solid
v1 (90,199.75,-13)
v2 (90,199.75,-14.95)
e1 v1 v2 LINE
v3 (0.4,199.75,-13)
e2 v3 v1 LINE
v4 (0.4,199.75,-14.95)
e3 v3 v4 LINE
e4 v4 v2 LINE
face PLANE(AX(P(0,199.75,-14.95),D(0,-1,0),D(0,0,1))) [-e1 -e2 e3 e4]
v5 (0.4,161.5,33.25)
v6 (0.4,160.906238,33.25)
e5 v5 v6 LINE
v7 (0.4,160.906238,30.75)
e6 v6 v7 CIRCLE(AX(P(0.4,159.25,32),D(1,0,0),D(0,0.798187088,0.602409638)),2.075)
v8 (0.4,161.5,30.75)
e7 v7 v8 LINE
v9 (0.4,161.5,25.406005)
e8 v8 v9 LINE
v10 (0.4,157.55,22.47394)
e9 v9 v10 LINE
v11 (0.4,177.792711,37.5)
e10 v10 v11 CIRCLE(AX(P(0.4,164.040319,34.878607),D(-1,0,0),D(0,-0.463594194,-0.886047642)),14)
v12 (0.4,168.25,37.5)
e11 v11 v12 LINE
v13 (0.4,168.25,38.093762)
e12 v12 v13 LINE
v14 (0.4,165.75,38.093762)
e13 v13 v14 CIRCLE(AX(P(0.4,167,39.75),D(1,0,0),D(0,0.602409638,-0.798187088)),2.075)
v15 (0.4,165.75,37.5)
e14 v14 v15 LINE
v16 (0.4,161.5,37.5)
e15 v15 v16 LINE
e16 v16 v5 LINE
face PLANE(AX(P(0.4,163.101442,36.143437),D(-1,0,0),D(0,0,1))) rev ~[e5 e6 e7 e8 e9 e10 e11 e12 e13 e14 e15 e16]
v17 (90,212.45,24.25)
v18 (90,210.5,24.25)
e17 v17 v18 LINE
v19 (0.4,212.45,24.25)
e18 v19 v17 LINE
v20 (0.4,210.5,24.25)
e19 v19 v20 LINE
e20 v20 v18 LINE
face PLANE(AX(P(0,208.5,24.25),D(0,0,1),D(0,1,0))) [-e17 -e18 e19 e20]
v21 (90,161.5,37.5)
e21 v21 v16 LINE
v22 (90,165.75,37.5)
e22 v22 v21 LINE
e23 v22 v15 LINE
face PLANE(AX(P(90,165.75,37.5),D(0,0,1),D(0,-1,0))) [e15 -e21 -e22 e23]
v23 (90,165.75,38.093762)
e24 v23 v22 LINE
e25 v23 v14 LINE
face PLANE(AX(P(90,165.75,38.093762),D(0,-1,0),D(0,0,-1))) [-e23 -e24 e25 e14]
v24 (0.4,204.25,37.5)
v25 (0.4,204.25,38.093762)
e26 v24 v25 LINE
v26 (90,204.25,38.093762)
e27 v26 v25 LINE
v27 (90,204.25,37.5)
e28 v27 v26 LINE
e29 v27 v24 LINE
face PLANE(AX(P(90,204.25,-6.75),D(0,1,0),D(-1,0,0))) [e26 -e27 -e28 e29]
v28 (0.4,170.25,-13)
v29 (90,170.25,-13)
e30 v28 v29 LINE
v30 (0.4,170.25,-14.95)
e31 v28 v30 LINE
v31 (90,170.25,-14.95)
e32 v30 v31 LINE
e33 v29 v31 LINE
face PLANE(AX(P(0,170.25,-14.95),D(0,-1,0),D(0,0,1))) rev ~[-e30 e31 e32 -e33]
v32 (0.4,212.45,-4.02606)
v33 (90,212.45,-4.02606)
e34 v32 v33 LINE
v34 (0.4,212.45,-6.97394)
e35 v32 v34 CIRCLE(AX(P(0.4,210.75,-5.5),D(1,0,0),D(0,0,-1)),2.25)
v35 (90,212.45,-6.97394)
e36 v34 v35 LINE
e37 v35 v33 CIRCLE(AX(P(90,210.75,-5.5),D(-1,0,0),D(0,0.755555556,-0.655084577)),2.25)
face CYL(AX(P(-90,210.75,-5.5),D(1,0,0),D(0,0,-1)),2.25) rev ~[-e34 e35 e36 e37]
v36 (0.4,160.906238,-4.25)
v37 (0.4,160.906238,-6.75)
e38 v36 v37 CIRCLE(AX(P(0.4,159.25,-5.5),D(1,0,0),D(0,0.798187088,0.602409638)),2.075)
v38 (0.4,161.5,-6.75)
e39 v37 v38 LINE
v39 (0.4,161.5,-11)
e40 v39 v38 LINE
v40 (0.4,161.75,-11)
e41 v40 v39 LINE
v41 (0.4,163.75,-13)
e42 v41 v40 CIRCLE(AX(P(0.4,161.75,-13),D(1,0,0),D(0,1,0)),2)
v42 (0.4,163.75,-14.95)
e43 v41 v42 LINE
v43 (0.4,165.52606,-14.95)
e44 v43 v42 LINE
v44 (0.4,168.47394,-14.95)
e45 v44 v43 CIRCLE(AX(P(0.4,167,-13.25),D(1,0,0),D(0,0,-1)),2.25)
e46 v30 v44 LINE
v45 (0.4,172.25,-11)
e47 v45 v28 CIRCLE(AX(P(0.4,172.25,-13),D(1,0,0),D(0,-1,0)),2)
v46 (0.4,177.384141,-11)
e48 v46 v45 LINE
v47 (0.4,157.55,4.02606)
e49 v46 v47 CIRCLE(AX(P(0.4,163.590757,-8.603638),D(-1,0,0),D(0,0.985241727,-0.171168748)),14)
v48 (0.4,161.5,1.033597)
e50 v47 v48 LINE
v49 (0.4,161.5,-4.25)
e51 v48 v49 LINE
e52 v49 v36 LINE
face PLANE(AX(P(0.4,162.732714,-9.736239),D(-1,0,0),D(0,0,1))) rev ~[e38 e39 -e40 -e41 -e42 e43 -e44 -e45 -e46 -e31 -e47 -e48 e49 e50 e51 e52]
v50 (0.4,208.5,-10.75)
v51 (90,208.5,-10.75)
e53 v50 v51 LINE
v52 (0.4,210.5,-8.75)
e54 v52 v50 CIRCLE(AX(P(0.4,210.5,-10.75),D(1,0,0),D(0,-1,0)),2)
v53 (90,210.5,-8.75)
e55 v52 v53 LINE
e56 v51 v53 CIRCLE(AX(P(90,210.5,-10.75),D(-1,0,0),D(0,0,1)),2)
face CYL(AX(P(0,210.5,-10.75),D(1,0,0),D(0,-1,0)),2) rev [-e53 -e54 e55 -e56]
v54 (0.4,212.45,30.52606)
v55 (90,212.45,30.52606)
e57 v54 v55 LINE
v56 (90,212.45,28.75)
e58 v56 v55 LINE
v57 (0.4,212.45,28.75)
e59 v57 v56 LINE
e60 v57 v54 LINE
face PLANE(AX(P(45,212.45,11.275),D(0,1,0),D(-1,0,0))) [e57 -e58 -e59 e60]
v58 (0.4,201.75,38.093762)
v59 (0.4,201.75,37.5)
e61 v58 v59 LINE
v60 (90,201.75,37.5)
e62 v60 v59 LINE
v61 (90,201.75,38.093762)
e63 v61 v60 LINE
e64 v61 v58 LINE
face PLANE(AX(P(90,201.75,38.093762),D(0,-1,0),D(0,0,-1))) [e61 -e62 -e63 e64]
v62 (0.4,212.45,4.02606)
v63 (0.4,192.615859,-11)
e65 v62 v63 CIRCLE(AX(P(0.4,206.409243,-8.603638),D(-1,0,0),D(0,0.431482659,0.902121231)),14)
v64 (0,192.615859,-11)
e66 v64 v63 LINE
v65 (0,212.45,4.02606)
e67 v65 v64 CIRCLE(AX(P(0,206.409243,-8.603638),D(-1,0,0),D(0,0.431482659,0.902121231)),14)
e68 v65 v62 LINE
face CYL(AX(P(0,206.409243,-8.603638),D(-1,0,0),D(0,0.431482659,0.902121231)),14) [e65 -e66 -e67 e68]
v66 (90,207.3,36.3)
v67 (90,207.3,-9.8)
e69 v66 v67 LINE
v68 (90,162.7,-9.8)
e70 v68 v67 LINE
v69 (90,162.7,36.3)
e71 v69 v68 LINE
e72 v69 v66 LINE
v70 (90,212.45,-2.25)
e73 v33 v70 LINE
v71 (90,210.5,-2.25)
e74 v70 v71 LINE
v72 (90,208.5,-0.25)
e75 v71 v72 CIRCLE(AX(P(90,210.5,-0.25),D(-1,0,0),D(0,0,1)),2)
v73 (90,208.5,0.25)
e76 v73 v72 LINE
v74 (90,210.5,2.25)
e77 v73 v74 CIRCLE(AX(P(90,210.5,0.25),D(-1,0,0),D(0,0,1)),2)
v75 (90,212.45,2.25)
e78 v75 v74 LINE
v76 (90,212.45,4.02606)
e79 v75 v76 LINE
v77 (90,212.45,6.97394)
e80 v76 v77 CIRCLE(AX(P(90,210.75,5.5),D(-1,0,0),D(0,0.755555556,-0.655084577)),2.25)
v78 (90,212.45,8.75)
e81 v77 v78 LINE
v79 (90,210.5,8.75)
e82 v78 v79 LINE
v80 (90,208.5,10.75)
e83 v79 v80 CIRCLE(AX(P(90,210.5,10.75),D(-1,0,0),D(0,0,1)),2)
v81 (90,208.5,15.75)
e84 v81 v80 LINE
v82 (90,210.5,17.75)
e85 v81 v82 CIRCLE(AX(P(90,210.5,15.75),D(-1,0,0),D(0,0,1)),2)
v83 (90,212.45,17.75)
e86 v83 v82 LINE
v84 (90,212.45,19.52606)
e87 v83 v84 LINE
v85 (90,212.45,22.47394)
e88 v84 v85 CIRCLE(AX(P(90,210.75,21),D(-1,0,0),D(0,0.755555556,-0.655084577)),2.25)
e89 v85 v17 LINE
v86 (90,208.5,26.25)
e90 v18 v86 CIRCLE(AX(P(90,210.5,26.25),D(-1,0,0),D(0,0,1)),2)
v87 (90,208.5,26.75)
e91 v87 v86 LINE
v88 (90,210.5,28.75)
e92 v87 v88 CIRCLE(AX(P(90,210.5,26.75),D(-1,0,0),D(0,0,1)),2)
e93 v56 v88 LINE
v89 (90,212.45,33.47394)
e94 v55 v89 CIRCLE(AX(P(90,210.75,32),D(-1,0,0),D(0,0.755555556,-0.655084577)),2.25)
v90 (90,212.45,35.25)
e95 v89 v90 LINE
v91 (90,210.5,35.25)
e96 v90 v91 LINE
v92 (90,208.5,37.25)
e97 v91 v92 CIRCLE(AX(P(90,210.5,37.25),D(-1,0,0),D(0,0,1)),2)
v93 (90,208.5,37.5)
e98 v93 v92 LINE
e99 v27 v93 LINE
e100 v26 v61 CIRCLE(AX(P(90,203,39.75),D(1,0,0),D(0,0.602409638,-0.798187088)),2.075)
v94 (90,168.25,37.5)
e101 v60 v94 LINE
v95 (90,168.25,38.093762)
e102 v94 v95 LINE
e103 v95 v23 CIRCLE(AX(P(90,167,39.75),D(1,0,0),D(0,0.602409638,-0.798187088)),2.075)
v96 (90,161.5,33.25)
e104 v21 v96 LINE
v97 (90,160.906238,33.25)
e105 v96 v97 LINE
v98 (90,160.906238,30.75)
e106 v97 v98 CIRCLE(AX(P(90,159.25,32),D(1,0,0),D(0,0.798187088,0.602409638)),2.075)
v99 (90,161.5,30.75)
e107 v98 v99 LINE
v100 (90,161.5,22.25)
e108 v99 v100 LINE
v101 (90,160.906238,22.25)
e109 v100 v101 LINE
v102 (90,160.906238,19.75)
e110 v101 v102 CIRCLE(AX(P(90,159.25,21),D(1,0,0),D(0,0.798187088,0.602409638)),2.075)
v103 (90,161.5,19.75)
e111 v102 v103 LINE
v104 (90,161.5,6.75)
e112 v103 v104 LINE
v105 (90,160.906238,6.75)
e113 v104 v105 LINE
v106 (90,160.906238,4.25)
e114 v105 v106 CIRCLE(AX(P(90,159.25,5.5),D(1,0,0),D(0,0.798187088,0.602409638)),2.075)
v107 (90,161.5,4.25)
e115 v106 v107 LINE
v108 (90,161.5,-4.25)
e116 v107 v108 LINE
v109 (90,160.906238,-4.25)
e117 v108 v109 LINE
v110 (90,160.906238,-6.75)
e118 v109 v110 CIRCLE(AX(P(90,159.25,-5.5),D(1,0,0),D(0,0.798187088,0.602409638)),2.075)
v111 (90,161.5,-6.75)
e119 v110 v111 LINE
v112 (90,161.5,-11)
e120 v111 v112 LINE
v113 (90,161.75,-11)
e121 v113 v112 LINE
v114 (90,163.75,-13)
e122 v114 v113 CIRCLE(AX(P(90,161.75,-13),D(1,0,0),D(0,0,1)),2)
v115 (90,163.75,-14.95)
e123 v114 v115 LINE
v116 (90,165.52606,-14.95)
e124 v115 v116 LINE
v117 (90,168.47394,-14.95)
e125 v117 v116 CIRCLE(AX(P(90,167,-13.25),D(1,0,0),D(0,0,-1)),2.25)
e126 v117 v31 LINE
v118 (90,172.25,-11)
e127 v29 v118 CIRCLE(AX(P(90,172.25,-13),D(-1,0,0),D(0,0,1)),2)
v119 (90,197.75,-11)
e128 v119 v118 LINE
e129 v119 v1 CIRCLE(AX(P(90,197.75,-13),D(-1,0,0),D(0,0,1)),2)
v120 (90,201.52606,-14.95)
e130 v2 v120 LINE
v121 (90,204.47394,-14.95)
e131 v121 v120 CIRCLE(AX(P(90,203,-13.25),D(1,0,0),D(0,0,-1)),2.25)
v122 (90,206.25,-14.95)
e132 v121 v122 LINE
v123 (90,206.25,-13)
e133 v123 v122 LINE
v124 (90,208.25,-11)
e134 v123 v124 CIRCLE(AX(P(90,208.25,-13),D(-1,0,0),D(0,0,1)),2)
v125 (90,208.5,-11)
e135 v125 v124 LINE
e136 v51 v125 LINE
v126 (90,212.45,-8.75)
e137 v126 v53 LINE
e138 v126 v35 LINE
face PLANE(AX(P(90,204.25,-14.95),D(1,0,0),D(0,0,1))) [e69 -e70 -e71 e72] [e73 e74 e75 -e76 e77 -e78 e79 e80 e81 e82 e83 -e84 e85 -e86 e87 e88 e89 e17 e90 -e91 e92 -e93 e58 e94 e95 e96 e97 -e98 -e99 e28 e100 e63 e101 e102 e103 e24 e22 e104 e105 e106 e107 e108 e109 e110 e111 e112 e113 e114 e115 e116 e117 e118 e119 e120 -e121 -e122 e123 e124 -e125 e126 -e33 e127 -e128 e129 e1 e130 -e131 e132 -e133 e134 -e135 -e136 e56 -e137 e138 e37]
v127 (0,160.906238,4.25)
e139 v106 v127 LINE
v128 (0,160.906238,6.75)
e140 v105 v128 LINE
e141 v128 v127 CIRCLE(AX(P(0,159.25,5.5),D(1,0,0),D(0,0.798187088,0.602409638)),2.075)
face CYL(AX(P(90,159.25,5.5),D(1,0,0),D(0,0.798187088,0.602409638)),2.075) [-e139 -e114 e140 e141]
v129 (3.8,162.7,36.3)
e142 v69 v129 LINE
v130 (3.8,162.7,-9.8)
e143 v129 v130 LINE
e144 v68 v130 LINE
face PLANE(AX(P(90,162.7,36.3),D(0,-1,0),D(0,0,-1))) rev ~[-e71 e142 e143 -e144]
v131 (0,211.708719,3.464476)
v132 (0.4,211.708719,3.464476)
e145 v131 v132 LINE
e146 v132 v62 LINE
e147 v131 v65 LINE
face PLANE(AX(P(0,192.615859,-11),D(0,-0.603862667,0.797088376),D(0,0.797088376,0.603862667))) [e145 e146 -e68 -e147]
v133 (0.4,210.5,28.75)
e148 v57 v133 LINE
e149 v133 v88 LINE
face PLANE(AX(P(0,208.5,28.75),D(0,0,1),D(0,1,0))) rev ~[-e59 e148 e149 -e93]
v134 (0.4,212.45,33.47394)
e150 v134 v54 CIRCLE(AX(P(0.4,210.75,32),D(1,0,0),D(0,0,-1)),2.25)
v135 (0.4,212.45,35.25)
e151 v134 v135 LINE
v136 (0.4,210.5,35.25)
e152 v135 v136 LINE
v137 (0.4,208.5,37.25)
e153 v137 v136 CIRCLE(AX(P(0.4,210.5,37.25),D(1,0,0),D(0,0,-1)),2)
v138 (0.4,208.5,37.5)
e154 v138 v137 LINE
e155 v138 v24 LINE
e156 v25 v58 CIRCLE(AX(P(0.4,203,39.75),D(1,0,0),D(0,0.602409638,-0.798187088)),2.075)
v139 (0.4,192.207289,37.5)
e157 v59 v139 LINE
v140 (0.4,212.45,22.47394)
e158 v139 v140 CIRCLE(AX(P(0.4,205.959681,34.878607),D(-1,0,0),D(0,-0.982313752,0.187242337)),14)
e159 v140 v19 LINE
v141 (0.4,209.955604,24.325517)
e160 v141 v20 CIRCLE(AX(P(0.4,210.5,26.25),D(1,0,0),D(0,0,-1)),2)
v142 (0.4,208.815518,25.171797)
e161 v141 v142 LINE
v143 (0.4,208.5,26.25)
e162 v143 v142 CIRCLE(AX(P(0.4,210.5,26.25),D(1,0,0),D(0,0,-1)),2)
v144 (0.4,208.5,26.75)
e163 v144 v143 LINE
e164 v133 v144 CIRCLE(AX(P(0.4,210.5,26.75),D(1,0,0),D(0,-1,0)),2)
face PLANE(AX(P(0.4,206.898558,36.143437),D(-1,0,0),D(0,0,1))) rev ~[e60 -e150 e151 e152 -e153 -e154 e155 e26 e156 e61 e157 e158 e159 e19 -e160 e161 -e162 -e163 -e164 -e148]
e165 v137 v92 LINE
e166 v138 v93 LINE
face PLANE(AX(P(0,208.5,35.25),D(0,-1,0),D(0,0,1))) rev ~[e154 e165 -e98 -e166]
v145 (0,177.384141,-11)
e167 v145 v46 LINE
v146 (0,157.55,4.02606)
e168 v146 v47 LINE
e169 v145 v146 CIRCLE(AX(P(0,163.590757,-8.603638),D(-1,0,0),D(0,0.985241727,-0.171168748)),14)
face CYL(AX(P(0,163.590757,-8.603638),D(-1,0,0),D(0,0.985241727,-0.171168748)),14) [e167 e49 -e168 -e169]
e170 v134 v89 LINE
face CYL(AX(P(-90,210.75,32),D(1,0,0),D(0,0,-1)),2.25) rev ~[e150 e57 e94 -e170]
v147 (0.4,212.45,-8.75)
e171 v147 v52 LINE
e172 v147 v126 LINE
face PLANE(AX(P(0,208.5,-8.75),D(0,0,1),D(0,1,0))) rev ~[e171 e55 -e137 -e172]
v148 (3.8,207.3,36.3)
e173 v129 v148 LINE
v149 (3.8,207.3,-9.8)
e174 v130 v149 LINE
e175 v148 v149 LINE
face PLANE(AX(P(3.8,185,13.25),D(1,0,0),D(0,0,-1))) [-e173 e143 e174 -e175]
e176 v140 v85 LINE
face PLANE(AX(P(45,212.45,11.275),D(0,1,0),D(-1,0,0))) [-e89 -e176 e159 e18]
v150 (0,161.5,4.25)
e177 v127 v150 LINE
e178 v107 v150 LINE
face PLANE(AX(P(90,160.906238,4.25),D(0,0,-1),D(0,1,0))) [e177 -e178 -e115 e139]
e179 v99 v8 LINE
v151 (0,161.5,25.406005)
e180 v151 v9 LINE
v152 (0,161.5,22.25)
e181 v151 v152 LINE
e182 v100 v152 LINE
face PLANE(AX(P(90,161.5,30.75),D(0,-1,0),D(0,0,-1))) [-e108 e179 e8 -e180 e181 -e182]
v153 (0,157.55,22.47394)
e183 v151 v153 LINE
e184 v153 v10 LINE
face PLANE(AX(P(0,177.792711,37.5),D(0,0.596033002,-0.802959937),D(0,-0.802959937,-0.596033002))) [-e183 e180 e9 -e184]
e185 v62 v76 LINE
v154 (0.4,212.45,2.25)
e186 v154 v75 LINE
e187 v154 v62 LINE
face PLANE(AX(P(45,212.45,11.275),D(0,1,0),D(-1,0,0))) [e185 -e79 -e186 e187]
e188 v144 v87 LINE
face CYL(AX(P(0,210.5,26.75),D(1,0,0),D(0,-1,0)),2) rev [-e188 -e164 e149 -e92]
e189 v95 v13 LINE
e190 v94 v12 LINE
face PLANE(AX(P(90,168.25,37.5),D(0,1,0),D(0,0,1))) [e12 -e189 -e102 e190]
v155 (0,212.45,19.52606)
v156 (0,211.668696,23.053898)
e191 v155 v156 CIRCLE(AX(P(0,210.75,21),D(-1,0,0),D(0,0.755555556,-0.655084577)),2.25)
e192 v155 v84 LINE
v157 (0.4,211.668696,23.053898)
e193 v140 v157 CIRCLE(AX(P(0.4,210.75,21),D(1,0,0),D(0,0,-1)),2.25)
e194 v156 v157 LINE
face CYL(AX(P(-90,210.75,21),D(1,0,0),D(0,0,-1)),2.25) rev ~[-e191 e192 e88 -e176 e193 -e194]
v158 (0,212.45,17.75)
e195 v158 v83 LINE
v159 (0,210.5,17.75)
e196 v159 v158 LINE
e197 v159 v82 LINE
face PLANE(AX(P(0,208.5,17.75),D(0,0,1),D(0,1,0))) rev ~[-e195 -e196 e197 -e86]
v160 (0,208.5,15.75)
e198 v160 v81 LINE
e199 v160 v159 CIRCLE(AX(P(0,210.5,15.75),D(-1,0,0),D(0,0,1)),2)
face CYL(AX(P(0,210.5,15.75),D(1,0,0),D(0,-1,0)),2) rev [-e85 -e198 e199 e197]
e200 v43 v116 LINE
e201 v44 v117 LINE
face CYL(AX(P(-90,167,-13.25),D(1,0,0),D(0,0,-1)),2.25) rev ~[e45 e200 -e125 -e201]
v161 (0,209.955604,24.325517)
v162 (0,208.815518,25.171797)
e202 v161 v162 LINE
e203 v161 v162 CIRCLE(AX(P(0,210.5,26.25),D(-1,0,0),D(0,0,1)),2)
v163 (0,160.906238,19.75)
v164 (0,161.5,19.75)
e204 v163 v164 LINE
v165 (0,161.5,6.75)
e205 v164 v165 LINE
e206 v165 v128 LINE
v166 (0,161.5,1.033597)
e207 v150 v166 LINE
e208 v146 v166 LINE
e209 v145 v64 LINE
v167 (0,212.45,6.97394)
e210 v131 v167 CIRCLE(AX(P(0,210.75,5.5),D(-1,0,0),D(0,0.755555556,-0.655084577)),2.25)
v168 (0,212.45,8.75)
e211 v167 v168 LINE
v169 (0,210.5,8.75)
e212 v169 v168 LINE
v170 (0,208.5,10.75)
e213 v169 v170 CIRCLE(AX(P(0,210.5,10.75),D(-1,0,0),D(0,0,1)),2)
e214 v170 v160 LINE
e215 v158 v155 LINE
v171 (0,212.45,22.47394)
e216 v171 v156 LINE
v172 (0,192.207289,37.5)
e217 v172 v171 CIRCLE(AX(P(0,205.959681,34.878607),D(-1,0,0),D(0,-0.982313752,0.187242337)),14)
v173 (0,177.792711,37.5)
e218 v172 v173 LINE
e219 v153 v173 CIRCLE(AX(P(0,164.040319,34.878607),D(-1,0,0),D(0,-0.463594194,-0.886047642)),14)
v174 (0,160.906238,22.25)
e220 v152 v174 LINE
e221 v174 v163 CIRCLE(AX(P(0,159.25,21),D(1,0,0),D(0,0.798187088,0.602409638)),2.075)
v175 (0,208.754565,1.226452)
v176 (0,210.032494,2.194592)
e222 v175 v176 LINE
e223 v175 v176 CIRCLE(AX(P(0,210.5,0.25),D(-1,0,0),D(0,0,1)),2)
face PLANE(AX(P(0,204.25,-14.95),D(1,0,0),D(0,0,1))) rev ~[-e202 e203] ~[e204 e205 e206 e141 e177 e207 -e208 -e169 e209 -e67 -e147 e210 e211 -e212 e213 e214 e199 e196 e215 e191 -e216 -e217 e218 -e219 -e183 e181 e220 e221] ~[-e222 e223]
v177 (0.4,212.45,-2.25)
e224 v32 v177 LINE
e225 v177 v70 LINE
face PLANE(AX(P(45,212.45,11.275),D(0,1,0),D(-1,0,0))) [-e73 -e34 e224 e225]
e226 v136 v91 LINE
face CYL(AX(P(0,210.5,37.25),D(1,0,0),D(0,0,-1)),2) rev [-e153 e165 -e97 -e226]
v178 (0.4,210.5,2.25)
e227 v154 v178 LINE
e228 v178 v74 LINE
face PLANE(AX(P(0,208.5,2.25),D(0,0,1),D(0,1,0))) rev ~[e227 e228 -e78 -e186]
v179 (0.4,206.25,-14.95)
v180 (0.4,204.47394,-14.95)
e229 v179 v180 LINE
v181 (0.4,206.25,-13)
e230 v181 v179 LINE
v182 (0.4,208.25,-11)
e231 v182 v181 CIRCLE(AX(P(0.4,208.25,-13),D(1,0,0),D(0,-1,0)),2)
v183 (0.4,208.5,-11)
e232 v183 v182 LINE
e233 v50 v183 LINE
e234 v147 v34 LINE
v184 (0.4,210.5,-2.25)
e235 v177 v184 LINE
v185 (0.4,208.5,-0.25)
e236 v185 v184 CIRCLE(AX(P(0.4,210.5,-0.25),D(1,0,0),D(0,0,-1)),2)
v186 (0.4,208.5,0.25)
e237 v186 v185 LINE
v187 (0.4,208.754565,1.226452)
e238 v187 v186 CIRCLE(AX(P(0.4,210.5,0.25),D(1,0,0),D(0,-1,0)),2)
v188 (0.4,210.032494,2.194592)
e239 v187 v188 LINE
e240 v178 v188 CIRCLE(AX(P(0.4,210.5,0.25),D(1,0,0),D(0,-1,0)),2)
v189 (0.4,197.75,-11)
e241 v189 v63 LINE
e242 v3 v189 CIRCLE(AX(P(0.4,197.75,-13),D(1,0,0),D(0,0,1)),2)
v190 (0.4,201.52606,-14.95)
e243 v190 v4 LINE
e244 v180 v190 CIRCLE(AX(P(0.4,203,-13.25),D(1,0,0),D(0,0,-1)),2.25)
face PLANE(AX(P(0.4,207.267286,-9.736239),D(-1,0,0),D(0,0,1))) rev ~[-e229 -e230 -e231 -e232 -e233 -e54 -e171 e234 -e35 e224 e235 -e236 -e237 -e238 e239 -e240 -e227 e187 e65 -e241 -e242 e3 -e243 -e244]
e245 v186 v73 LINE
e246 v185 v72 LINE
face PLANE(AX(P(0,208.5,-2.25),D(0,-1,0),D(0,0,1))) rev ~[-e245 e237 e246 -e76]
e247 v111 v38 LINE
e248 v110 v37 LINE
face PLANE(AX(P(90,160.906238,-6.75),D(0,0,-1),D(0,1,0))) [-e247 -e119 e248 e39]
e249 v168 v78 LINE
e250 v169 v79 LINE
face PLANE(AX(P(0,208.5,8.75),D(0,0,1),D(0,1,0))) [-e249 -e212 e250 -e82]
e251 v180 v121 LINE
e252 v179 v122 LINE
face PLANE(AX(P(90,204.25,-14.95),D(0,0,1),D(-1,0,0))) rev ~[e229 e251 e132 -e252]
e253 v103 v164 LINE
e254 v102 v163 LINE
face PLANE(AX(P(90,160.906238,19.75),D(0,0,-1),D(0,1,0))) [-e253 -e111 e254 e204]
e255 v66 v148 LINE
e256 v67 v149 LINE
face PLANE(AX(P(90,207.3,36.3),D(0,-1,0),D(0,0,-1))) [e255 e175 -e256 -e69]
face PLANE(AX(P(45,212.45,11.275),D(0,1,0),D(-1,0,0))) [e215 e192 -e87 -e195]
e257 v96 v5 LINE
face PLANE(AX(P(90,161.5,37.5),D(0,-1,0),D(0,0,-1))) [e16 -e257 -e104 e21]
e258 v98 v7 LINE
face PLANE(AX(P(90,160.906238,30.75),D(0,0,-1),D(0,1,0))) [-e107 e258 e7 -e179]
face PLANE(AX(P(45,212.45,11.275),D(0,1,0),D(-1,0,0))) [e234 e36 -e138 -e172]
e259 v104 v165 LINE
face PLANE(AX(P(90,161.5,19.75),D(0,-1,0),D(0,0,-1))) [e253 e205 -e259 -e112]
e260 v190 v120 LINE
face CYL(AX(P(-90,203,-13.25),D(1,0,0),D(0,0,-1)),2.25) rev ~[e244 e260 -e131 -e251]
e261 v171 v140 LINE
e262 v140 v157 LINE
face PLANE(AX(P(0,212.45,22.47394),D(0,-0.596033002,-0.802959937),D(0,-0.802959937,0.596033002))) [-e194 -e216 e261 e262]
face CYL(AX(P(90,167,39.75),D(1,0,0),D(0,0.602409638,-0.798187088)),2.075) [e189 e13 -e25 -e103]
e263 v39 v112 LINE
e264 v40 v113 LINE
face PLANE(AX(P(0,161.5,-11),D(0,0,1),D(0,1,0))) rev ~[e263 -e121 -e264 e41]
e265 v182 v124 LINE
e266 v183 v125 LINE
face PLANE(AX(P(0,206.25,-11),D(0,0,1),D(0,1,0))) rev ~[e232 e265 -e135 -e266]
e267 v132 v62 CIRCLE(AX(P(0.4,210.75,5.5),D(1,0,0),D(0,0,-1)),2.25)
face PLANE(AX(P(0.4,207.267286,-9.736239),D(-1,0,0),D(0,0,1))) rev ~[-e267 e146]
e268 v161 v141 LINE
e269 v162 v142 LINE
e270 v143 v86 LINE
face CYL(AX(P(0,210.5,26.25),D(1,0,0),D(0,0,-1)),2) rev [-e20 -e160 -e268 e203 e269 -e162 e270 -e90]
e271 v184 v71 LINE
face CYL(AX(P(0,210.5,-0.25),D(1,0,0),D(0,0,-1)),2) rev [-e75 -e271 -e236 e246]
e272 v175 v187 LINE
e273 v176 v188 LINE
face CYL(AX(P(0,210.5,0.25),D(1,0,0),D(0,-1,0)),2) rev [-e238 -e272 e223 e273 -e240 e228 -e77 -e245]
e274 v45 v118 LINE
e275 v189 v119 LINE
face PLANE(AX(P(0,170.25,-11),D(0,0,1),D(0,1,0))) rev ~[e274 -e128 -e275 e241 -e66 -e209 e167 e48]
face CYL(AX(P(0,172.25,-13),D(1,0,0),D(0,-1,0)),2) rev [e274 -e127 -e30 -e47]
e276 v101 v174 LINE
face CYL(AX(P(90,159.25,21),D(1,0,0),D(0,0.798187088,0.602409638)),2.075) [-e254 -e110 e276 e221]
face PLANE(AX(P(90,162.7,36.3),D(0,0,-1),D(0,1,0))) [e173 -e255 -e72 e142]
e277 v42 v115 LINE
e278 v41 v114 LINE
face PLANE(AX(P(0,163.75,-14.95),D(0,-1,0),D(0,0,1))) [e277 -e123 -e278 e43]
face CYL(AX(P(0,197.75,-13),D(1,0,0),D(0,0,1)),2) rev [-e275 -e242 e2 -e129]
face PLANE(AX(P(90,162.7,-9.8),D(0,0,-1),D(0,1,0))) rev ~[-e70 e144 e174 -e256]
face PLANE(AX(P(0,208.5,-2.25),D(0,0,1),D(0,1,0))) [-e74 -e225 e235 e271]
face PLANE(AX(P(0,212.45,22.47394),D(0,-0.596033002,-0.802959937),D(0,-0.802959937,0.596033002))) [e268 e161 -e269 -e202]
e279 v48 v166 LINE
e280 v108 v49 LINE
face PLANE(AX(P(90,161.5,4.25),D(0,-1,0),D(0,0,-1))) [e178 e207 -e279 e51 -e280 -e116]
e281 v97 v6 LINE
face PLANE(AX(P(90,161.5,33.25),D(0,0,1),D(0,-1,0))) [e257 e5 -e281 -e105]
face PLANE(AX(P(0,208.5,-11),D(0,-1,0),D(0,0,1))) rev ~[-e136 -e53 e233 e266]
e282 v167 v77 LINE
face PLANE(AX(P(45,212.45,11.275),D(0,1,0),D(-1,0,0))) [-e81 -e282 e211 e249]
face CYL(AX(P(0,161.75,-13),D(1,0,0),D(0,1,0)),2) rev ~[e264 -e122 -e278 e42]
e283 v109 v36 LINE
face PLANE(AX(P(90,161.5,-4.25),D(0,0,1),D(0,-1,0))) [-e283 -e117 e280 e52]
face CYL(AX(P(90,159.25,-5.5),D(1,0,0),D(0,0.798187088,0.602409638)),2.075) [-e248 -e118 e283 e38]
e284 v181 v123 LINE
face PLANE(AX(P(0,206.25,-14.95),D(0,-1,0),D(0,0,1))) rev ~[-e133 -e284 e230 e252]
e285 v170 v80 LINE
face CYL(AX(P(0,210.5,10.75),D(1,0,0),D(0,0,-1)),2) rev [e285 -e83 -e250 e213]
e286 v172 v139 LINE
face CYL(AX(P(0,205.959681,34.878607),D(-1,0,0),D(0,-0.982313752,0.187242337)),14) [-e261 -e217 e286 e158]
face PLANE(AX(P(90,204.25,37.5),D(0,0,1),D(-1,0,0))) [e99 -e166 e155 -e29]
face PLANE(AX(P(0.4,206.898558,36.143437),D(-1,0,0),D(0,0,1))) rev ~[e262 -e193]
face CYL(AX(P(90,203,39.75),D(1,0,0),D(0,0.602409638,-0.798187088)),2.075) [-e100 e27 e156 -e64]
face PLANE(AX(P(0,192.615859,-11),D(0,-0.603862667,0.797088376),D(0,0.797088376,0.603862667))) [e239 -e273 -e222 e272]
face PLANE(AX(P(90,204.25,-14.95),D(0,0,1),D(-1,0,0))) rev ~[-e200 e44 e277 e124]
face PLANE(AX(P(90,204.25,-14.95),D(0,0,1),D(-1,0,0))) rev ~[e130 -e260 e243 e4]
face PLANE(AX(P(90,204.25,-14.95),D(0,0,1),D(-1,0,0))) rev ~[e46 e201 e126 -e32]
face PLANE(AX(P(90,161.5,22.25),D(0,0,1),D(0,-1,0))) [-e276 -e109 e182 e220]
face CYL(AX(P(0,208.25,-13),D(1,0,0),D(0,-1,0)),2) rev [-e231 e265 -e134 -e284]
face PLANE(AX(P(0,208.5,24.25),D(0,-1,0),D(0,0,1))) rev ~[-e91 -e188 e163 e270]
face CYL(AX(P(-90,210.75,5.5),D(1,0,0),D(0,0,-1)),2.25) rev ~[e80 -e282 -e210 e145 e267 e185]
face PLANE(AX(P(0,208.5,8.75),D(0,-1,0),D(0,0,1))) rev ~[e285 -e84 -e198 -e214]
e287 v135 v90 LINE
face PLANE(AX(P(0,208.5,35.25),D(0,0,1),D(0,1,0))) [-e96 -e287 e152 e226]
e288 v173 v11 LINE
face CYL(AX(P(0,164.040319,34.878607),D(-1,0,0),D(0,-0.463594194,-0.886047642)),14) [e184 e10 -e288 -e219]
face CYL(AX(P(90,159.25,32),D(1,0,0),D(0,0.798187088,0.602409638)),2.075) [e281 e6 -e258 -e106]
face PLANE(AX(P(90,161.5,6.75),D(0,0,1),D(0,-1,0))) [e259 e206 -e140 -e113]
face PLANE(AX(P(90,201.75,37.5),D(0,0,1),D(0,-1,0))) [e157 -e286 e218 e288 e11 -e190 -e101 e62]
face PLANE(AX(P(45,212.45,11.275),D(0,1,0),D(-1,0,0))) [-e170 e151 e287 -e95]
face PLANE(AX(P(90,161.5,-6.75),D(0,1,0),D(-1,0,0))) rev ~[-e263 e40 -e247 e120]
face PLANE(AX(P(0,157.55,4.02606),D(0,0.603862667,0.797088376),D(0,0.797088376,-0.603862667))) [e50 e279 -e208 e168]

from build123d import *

# Parameters (mm, degrees)
EXTRUDE_1_DEPTH             = 90
SKETCH_2_W                  = 90
SKETCH_2_H                  = 42.75
EXTRUDE_2_DEPTH             = 8.2
SKETCH_3_W                  = 90
SKETCH_3_H                  = 52.45
EXTRUDE_3_DEPTH             = 8.2
SKETCH_4_W                  = 3.95
SKETCH_4_H                  = 2.25
CUT_EXTRUDE_1_DEPTH         = 91
SKETCH_5_W                  = 3.95
SKETCH_5_H                  = 29.5
CUT_EXTRUDE_2_DEPTH         = 91
SKETCH_6_W                  = 3.95
SKETCH_6_H                  = 6.2
CUT_EXTRUDE_3_DEPTH         = 91
SKETCH_7_W                  = 2.25
SKETCH_7_H                  = 3.95
CUT_EXTRUDE_4_DEPTH         = 91
SKETCH_8_W                  = 4.5
SKETCH_8_H                  = 3.95
CUT_EXTRUDE_5_DEPTH         = 91
SKETCH_9_W                  = 9
SKETCH_9_H                  = 3.95
CUT_EXTRUDE_6_DEPTH         = 91
SKETCH_10_W                 = 4.5
SKETCH_10_H                 = 3.95
CUT_EXTRUDE_7_DEPTH         = 91
SKETCH_11_W                 = 2.25
SKETCH_11_H                 = 3.95
CUT_EXTRUDE_8_DEPTH         = 91
SKETCH_12_W                 = 46.1
SKETCH_12_H                 = 44.6
CUT_EXTRUDE_9_DEPTH         = 86.2
HOLE_WIZARD_2_5_2_5_1_D     = 2.5
HOLE_WIZARD_2_5_2_5_1_DEPTH = 90
HOLE_WIZARD_4_5_4_5_1_D     = 4.5
HOLE_WIZARD_4_5_4_5_1_DEPTH = 90
SKETCH_19_R                 = 1.67252853
SKETCH_19_R_2               = 1.459159852
SKETCH_19_R_3               = 1.459908976
SKETCH_19_R_4               = 1.592821911
SKETCH_19_R_5               = 1.532216665
SKETCH_19_R_6               = 1.596138091
EXTRUDE_4_DEPTH             = 90
FILLET_1_R                  = 2
FILLET_2_R                  = 2
FILLET_3_R                  = 2
FILLET_4_R                  = 2
FILLET_5_R                  = 2
FILLET_6_R                  = 2
FILLET_7_R                  = 2
FILLET_8_R                  = 2
FILLET_9_R                  = 2
FILLET_10_R                 = 2
FILLET_11_R                 = 2
FILLET_12_R                 = 2
EXTRUDE_5_DEPTH             = 0.4


with BuildPart() as part:
    # Эскиз1 → Бобышка-Вытянуть1 (new body)
    with BuildSketch(Plane(origin=(90, 0, 0), x_dir=(0, 0, -1), z_dir=(1, 0, 0))):
        with BuildLine():
            Line((6.75, 160.906238208), (6.75, 204.25))
            Line((6.75, 204.25), (-38.093761792, 204.25))
            ThreePointArc((-38.093761792, 204.25), (-41.825, 203), (-38.093761792, 201.75))
            Line((-38.093761792, 201.75), (-37.5, 201.75))
            Line((-37.5, 201.75), (-37.5, 168.25))
            Line((-37.5, 168.25), (-38.093761792, 168.25))
            ThreePointArc((-38.093761792, 168.25), (-41.825, 167), (-38.093761792, 165.75))
            Line((-38.093761792, 165.75), (-37.5, 165.75))
            Line((-37.5, 165.75), (-37.5, 161.5))
            Line((-37.5, 161.5), (-33.25, 161.5))
            Line((-33.25, 161.5), (-33.25, 160.906238208))
            ThreePointArc((-33.25, 160.906238208), (-32, 157.175), (-30.75, 160.906238208))
            Line((-30.75, 160.906238208), (-30.75, 161.5))
            Line((-30.75, 161.5), (-22.25, 161.5))
            Line((-22.25, 161.5), (-22.25, 160.906238208))
            ThreePointArc((-22.25, 160.906238208), (-21, 157.175), (-19.75, 160.906238208))
            Line((-19.75, 160.906238208), (-19.75, 161.5))
            Line((-19.75, 161.5), (-6.75, 161.5))
            Line((-6.75, 161.5), (-6.75, 160.906238208))
            ThreePointArc((-6.75, 160.906238208), (-5.5, 157.175), (-4.25, 160.906238208))
            Line((-4.25, 160.906238208), (-4.25, 161.5))
            Line((-4.25, 161.5), (4.25, 161.5))
            Line((4.25, 161.5), (4.25, 160.906238208))
            ThreePointArc((4.25, 160.906238208), (5.5, 157.175), (6.75, 160.906238208))
        make_face()
    extrude(amount=-EXTRUDE_1_DEPTH)

    # Эскиз2 → Бобышка-Вытянуть2 (add)
    with BuildSketch(Plane(origin=(0, 0, -6.75), x_dir=(-1, 0, 0), z_dir=(0, 0, -1))):
        with Locations((-45, 182.875)):
            Rectangle(SKETCH_2_W, SKETCH_2_H)
    extrude(amount=EXTRUDE_2_DEPTH)

    # Эскиз3 → Бобышка-Вытянуть3 (add)
    with BuildSketch(Plane(origin=(0, 204.25, 0), x_dir=(-1, 0, 0), z_dir=(0, 1, 0))):
        with Locations((-45, 11.275)):
            Rectangle(SKETCH_3_W, SKETCH_3_H)
    extrude(amount=EXTRUDE_3_DEPTH)

    # Эскиз4 → Вырез-Вытянуть1 (cut, through all)
    with BuildSketch(Plane.ZY):
        with Locations((-12.975, 162.625)):
            Rectangle(SKETCH_4_W, SKETCH_4_H)
    extrude(amount=-CUT_EXTRUDE_1_DEPTH, mode=Mode.SUBTRACT)

    # Эскиз5 → Вырез-Вытянуть2 (cut, through all)
    with BuildSketch(Plane.ZY):
        with Locations((-12.975, 185)):
            Rectangle(SKETCH_5_W, SKETCH_5_H)
    extrude(amount=-CUT_EXTRUDE_2_DEPTH, mode=Mode.SUBTRACT)

    # Эскиз6 → Вырез-Вытянуть3 (cut, through all)
    with BuildSketch(Plane.ZY):
        with Locations((-12.975, 209.35)):
            Rectangle(SKETCH_6_W, SKETCH_6_H)
    extrude(amount=-CUT_EXTRUDE_3_DEPTH, mode=Mode.SUBTRACT)

    # Эскиз7 → Вырез-Вытянуть4 (cut, through all)
    with BuildSketch(Plane.ZY):
        with Locations((-9.875, 210.475)):
            Rectangle(SKETCH_7_W, SKETCH_7_H)
    extrude(amount=-CUT_EXTRUDE_4_DEPTH, mode=Mode.SUBTRACT)

    # Эскиз8 → Вырез-Вытянуть5 (cut, through all)
    with BuildSketch(Plane.ZY):
        with Locations((0, 210.475)):
            Rectangle(SKETCH_8_W, SKETCH_8_H)
    extrude(amount=-CUT_EXTRUDE_5_DEPTH, mode=Mode.SUBTRACT)

    # Эскиз9 → Вырез-Вытянуть6 (cut, through all)
    with BuildSketch(Plane.ZY):
        with Locations((13.25, 210.475)):
            Rectangle(SKETCH_9_W, SKETCH_9_H)
    extrude(amount=-CUT_EXTRUDE_6_DEPTH, mode=Mode.SUBTRACT)

    # Эскиз10 → Вырез-Вытянуть7 (cut, through all)
    with BuildSketch(Plane.ZY):
        with Locations((26.5, 210.475)):
            Rectangle(SKETCH_10_W, SKETCH_10_H)
    extrude(amount=-CUT_EXTRUDE_7_DEPTH, mode=Mode.SUBTRACT)

    # Эскиз11 → Вырез-Вытянуть8 (cut, through all)
    with BuildSketch(Plane.ZY):
        with Locations((36.375, 210.475)):
            Rectangle(SKETCH_11_W, SKETCH_11_H)
    extrude(amount=-CUT_EXTRUDE_8_DEPTH, mode=Mode.SUBTRACT)

    # Эскиз12 → Вырез-Вытянуть9 (cut)
    with BuildSketch(Plane(origin=(90, 0, 0), x_dir=(0, 0, -1), z_dir=(1, 0, 0))):
        with Locations((-13.25, 185)):
            Rectangle(SKETCH_12_W, SKETCH_12_H)
    extrude(amount=-CUT_EXTRUDE_9_DEPTH, mode=Mode.SUBTRACT)

    # Диаметр отверстия Ø2.5 (2.5)1
    with Locations(Plane(origin=(90, 0, 0), x_dir=(0, 0, -1), z_dir=(1, 0, 0))):
        with Locations((5.5, 159.25), (-21, 159.25), (-5.5, 159.25), (-32, 159.25), (-39.75, 167), (-39.75, 203)):
            Hole(HOLE_WIZARD_2_5_2_5_1_D / 2, depth=HOLE_WIZARD_2_5_2_5_1_DEPTH)

    # Диаметр отверстия Ø4.5 (4.5)1
    with Locations(Plane.ZY):
        with Locations((-13.25, 167), (-13.25, 203), (-5.5, 210.75), (5.5, 210.75), (21, 210.75), (32, 210.75)):
            Hole(HOLE_WIZARD_4_5_4_5_1_D / 2, depth=HOLE_WIZARD_4_5_4_5_1_DEPTH)

    # Эскиз19 → Бобышка-Вытянуть4 (add)
    with BuildSketch(Plane(origin=(90, 0, 0), x_dir=(0, 0, -1), z_dir=(1, 0, 0))):
        with Locations((-39.75, 203)):
            Circle(SKETCH_19_R)
        with Locations((-39.75, 167)):
            Circle(SKETCH_19_R_2)
        with Locations((-32, 159.25)):
            Circle(SKETCH_19_R_3)
        with Locations((-21, 159.25)):
            Circle(SKETCH_19_R_4)
        with Locations((-5.5, 159.25)):
            Circle(SKETCH_19_R_5)
        with Locations((5.5, 159.25)):
            Circle(SKETCH_19_R_6)
    extrude(amount=-EXTRUDE_4_DEPTH)

    # Скругление1
    fillet_1_edges = [part.edges().sort_by_distance(p)[0] for p in [
        (45, 208.5, -8.75),
    ]]
    fillet(fillet_1_edges, radius=FILLET_1_R)

    # Скругление2
    fillet_2_edges = [part.edges().sort_by_distance(p)[0] for p in [
        (45, 163.75, -11),
    ]]
    fillet(fillet_2_edges, radius=FILLET_2_R)

    # Скругление3
    fillet_3_edges = [part.edges().sort_by_distance(p)[0] for p in [
        (45, 170.25, -11),
    ]]
    fillet(fillet_3_edges, radius=FILLET_3_R)

    # Скругление4
    fillet_4_edges = [part.edges().sort_by_distance(p)[0] for p in [
        (45, 199.75, -11),
    ]]
    fillet(fillet_4_edges, radius=FILLET_4_R)

    # Скругление5
    fillet_5_edges = [part.edges().sort_by_distance(p)[0] for p in [
        (45, 206.25, -11),
    ]]
    fillet(fillet_5_edges, radius=FILLET_5_R)

    # Скругление6
    fillet_6_edges = [part.edges().sort_by_distance(p)[0] for p in [
        (45, 208.5, -2.25),
    ]]
    fillet(fillet_6_edges, radius=FILLET_6_R)

    # Скругление7
    fillet_7_edges = [part.edges().sort_by_distance(p)[0] for p in [
        (45, 208.5, 2.25),
    ]]
    fillet(fillet_7_edges, radius=FILLET_7_R)

    # Скругление8
    fillet_8_edges = [part.edges().sort_by_distance(p)[0] for p in [
        (45, 208.5, 8.75),
    ]]
    fillet(fillet_8_edges, radius=FILLET_8_R)

    # Скругление9
    fillet_9_edges = [part.edges().sort_by_distance(p)[0] for p in [
        (45, 208.5, 17.75),
    ]]
    fillet(fillet_9_edges, radius=FILLET_9_R)

    # Скругление10
    fillet_10_edges = [part.edges().sort_by_distance(p)[0] for p in [
        (45, 208.5, 24.25),
    ]]
    fillet(fillet_10_edges, radius=FILLET_10_R)

    # Скругление11
    fillet_11_edges = [part.edges().sort_by_distance(p)[0] for p in [
        (45, 208.5, 28.75),
    ]]
    fillet(fillet_11_edges, radius=FILLET_11_R)

    # Скругление12
    fillet_12_edges = [part.edges().sort_by_distance(p)[0] for p in [
        (45, 208.5, 35.25),
    ]]
    fillet(fillet_12_edges, radius=FILLET_12_R)

    # Эскиз21 → Бобышка-Вытянуть5 (add)
    with BuildSketch(Plane.ZY):
        with BuildLine():
            Line((-11, 192.615858601), (4.026059703, 212.45))
            ThreePointArc((4.026059703, 212.45), (-19.762874791, 214.863320113), (-11, 192.615858601))
        make_face()
        with BuildLine():
            Line((22.473940297, 212.45), (37.5, 192.207288754))
            ThreePointArc((37.5, 192.207288754), (46.120046397, 214.304143308), (22.473940297, 212.45))
        make_face()
        with BuildLine():
            Line((37.5, 177.792711246), (22.473940297, 157.55))
            ThreePointArc((22.473940297, 157.55), (46.120046397, 155.695856692), (37.5, 177.792711246))
        make_face()
        with BuildLine():
            Line((4.026059703, 157.55), (-11, 177.384141399))
            ThreePointArc((-11, 177.384141399), (-19.762874791, 155.136679887), (4.026059703, 157.55))
        make_face()
    extrude(amount=-EXTRUDE_5_DEPTH)


solid = part.part
